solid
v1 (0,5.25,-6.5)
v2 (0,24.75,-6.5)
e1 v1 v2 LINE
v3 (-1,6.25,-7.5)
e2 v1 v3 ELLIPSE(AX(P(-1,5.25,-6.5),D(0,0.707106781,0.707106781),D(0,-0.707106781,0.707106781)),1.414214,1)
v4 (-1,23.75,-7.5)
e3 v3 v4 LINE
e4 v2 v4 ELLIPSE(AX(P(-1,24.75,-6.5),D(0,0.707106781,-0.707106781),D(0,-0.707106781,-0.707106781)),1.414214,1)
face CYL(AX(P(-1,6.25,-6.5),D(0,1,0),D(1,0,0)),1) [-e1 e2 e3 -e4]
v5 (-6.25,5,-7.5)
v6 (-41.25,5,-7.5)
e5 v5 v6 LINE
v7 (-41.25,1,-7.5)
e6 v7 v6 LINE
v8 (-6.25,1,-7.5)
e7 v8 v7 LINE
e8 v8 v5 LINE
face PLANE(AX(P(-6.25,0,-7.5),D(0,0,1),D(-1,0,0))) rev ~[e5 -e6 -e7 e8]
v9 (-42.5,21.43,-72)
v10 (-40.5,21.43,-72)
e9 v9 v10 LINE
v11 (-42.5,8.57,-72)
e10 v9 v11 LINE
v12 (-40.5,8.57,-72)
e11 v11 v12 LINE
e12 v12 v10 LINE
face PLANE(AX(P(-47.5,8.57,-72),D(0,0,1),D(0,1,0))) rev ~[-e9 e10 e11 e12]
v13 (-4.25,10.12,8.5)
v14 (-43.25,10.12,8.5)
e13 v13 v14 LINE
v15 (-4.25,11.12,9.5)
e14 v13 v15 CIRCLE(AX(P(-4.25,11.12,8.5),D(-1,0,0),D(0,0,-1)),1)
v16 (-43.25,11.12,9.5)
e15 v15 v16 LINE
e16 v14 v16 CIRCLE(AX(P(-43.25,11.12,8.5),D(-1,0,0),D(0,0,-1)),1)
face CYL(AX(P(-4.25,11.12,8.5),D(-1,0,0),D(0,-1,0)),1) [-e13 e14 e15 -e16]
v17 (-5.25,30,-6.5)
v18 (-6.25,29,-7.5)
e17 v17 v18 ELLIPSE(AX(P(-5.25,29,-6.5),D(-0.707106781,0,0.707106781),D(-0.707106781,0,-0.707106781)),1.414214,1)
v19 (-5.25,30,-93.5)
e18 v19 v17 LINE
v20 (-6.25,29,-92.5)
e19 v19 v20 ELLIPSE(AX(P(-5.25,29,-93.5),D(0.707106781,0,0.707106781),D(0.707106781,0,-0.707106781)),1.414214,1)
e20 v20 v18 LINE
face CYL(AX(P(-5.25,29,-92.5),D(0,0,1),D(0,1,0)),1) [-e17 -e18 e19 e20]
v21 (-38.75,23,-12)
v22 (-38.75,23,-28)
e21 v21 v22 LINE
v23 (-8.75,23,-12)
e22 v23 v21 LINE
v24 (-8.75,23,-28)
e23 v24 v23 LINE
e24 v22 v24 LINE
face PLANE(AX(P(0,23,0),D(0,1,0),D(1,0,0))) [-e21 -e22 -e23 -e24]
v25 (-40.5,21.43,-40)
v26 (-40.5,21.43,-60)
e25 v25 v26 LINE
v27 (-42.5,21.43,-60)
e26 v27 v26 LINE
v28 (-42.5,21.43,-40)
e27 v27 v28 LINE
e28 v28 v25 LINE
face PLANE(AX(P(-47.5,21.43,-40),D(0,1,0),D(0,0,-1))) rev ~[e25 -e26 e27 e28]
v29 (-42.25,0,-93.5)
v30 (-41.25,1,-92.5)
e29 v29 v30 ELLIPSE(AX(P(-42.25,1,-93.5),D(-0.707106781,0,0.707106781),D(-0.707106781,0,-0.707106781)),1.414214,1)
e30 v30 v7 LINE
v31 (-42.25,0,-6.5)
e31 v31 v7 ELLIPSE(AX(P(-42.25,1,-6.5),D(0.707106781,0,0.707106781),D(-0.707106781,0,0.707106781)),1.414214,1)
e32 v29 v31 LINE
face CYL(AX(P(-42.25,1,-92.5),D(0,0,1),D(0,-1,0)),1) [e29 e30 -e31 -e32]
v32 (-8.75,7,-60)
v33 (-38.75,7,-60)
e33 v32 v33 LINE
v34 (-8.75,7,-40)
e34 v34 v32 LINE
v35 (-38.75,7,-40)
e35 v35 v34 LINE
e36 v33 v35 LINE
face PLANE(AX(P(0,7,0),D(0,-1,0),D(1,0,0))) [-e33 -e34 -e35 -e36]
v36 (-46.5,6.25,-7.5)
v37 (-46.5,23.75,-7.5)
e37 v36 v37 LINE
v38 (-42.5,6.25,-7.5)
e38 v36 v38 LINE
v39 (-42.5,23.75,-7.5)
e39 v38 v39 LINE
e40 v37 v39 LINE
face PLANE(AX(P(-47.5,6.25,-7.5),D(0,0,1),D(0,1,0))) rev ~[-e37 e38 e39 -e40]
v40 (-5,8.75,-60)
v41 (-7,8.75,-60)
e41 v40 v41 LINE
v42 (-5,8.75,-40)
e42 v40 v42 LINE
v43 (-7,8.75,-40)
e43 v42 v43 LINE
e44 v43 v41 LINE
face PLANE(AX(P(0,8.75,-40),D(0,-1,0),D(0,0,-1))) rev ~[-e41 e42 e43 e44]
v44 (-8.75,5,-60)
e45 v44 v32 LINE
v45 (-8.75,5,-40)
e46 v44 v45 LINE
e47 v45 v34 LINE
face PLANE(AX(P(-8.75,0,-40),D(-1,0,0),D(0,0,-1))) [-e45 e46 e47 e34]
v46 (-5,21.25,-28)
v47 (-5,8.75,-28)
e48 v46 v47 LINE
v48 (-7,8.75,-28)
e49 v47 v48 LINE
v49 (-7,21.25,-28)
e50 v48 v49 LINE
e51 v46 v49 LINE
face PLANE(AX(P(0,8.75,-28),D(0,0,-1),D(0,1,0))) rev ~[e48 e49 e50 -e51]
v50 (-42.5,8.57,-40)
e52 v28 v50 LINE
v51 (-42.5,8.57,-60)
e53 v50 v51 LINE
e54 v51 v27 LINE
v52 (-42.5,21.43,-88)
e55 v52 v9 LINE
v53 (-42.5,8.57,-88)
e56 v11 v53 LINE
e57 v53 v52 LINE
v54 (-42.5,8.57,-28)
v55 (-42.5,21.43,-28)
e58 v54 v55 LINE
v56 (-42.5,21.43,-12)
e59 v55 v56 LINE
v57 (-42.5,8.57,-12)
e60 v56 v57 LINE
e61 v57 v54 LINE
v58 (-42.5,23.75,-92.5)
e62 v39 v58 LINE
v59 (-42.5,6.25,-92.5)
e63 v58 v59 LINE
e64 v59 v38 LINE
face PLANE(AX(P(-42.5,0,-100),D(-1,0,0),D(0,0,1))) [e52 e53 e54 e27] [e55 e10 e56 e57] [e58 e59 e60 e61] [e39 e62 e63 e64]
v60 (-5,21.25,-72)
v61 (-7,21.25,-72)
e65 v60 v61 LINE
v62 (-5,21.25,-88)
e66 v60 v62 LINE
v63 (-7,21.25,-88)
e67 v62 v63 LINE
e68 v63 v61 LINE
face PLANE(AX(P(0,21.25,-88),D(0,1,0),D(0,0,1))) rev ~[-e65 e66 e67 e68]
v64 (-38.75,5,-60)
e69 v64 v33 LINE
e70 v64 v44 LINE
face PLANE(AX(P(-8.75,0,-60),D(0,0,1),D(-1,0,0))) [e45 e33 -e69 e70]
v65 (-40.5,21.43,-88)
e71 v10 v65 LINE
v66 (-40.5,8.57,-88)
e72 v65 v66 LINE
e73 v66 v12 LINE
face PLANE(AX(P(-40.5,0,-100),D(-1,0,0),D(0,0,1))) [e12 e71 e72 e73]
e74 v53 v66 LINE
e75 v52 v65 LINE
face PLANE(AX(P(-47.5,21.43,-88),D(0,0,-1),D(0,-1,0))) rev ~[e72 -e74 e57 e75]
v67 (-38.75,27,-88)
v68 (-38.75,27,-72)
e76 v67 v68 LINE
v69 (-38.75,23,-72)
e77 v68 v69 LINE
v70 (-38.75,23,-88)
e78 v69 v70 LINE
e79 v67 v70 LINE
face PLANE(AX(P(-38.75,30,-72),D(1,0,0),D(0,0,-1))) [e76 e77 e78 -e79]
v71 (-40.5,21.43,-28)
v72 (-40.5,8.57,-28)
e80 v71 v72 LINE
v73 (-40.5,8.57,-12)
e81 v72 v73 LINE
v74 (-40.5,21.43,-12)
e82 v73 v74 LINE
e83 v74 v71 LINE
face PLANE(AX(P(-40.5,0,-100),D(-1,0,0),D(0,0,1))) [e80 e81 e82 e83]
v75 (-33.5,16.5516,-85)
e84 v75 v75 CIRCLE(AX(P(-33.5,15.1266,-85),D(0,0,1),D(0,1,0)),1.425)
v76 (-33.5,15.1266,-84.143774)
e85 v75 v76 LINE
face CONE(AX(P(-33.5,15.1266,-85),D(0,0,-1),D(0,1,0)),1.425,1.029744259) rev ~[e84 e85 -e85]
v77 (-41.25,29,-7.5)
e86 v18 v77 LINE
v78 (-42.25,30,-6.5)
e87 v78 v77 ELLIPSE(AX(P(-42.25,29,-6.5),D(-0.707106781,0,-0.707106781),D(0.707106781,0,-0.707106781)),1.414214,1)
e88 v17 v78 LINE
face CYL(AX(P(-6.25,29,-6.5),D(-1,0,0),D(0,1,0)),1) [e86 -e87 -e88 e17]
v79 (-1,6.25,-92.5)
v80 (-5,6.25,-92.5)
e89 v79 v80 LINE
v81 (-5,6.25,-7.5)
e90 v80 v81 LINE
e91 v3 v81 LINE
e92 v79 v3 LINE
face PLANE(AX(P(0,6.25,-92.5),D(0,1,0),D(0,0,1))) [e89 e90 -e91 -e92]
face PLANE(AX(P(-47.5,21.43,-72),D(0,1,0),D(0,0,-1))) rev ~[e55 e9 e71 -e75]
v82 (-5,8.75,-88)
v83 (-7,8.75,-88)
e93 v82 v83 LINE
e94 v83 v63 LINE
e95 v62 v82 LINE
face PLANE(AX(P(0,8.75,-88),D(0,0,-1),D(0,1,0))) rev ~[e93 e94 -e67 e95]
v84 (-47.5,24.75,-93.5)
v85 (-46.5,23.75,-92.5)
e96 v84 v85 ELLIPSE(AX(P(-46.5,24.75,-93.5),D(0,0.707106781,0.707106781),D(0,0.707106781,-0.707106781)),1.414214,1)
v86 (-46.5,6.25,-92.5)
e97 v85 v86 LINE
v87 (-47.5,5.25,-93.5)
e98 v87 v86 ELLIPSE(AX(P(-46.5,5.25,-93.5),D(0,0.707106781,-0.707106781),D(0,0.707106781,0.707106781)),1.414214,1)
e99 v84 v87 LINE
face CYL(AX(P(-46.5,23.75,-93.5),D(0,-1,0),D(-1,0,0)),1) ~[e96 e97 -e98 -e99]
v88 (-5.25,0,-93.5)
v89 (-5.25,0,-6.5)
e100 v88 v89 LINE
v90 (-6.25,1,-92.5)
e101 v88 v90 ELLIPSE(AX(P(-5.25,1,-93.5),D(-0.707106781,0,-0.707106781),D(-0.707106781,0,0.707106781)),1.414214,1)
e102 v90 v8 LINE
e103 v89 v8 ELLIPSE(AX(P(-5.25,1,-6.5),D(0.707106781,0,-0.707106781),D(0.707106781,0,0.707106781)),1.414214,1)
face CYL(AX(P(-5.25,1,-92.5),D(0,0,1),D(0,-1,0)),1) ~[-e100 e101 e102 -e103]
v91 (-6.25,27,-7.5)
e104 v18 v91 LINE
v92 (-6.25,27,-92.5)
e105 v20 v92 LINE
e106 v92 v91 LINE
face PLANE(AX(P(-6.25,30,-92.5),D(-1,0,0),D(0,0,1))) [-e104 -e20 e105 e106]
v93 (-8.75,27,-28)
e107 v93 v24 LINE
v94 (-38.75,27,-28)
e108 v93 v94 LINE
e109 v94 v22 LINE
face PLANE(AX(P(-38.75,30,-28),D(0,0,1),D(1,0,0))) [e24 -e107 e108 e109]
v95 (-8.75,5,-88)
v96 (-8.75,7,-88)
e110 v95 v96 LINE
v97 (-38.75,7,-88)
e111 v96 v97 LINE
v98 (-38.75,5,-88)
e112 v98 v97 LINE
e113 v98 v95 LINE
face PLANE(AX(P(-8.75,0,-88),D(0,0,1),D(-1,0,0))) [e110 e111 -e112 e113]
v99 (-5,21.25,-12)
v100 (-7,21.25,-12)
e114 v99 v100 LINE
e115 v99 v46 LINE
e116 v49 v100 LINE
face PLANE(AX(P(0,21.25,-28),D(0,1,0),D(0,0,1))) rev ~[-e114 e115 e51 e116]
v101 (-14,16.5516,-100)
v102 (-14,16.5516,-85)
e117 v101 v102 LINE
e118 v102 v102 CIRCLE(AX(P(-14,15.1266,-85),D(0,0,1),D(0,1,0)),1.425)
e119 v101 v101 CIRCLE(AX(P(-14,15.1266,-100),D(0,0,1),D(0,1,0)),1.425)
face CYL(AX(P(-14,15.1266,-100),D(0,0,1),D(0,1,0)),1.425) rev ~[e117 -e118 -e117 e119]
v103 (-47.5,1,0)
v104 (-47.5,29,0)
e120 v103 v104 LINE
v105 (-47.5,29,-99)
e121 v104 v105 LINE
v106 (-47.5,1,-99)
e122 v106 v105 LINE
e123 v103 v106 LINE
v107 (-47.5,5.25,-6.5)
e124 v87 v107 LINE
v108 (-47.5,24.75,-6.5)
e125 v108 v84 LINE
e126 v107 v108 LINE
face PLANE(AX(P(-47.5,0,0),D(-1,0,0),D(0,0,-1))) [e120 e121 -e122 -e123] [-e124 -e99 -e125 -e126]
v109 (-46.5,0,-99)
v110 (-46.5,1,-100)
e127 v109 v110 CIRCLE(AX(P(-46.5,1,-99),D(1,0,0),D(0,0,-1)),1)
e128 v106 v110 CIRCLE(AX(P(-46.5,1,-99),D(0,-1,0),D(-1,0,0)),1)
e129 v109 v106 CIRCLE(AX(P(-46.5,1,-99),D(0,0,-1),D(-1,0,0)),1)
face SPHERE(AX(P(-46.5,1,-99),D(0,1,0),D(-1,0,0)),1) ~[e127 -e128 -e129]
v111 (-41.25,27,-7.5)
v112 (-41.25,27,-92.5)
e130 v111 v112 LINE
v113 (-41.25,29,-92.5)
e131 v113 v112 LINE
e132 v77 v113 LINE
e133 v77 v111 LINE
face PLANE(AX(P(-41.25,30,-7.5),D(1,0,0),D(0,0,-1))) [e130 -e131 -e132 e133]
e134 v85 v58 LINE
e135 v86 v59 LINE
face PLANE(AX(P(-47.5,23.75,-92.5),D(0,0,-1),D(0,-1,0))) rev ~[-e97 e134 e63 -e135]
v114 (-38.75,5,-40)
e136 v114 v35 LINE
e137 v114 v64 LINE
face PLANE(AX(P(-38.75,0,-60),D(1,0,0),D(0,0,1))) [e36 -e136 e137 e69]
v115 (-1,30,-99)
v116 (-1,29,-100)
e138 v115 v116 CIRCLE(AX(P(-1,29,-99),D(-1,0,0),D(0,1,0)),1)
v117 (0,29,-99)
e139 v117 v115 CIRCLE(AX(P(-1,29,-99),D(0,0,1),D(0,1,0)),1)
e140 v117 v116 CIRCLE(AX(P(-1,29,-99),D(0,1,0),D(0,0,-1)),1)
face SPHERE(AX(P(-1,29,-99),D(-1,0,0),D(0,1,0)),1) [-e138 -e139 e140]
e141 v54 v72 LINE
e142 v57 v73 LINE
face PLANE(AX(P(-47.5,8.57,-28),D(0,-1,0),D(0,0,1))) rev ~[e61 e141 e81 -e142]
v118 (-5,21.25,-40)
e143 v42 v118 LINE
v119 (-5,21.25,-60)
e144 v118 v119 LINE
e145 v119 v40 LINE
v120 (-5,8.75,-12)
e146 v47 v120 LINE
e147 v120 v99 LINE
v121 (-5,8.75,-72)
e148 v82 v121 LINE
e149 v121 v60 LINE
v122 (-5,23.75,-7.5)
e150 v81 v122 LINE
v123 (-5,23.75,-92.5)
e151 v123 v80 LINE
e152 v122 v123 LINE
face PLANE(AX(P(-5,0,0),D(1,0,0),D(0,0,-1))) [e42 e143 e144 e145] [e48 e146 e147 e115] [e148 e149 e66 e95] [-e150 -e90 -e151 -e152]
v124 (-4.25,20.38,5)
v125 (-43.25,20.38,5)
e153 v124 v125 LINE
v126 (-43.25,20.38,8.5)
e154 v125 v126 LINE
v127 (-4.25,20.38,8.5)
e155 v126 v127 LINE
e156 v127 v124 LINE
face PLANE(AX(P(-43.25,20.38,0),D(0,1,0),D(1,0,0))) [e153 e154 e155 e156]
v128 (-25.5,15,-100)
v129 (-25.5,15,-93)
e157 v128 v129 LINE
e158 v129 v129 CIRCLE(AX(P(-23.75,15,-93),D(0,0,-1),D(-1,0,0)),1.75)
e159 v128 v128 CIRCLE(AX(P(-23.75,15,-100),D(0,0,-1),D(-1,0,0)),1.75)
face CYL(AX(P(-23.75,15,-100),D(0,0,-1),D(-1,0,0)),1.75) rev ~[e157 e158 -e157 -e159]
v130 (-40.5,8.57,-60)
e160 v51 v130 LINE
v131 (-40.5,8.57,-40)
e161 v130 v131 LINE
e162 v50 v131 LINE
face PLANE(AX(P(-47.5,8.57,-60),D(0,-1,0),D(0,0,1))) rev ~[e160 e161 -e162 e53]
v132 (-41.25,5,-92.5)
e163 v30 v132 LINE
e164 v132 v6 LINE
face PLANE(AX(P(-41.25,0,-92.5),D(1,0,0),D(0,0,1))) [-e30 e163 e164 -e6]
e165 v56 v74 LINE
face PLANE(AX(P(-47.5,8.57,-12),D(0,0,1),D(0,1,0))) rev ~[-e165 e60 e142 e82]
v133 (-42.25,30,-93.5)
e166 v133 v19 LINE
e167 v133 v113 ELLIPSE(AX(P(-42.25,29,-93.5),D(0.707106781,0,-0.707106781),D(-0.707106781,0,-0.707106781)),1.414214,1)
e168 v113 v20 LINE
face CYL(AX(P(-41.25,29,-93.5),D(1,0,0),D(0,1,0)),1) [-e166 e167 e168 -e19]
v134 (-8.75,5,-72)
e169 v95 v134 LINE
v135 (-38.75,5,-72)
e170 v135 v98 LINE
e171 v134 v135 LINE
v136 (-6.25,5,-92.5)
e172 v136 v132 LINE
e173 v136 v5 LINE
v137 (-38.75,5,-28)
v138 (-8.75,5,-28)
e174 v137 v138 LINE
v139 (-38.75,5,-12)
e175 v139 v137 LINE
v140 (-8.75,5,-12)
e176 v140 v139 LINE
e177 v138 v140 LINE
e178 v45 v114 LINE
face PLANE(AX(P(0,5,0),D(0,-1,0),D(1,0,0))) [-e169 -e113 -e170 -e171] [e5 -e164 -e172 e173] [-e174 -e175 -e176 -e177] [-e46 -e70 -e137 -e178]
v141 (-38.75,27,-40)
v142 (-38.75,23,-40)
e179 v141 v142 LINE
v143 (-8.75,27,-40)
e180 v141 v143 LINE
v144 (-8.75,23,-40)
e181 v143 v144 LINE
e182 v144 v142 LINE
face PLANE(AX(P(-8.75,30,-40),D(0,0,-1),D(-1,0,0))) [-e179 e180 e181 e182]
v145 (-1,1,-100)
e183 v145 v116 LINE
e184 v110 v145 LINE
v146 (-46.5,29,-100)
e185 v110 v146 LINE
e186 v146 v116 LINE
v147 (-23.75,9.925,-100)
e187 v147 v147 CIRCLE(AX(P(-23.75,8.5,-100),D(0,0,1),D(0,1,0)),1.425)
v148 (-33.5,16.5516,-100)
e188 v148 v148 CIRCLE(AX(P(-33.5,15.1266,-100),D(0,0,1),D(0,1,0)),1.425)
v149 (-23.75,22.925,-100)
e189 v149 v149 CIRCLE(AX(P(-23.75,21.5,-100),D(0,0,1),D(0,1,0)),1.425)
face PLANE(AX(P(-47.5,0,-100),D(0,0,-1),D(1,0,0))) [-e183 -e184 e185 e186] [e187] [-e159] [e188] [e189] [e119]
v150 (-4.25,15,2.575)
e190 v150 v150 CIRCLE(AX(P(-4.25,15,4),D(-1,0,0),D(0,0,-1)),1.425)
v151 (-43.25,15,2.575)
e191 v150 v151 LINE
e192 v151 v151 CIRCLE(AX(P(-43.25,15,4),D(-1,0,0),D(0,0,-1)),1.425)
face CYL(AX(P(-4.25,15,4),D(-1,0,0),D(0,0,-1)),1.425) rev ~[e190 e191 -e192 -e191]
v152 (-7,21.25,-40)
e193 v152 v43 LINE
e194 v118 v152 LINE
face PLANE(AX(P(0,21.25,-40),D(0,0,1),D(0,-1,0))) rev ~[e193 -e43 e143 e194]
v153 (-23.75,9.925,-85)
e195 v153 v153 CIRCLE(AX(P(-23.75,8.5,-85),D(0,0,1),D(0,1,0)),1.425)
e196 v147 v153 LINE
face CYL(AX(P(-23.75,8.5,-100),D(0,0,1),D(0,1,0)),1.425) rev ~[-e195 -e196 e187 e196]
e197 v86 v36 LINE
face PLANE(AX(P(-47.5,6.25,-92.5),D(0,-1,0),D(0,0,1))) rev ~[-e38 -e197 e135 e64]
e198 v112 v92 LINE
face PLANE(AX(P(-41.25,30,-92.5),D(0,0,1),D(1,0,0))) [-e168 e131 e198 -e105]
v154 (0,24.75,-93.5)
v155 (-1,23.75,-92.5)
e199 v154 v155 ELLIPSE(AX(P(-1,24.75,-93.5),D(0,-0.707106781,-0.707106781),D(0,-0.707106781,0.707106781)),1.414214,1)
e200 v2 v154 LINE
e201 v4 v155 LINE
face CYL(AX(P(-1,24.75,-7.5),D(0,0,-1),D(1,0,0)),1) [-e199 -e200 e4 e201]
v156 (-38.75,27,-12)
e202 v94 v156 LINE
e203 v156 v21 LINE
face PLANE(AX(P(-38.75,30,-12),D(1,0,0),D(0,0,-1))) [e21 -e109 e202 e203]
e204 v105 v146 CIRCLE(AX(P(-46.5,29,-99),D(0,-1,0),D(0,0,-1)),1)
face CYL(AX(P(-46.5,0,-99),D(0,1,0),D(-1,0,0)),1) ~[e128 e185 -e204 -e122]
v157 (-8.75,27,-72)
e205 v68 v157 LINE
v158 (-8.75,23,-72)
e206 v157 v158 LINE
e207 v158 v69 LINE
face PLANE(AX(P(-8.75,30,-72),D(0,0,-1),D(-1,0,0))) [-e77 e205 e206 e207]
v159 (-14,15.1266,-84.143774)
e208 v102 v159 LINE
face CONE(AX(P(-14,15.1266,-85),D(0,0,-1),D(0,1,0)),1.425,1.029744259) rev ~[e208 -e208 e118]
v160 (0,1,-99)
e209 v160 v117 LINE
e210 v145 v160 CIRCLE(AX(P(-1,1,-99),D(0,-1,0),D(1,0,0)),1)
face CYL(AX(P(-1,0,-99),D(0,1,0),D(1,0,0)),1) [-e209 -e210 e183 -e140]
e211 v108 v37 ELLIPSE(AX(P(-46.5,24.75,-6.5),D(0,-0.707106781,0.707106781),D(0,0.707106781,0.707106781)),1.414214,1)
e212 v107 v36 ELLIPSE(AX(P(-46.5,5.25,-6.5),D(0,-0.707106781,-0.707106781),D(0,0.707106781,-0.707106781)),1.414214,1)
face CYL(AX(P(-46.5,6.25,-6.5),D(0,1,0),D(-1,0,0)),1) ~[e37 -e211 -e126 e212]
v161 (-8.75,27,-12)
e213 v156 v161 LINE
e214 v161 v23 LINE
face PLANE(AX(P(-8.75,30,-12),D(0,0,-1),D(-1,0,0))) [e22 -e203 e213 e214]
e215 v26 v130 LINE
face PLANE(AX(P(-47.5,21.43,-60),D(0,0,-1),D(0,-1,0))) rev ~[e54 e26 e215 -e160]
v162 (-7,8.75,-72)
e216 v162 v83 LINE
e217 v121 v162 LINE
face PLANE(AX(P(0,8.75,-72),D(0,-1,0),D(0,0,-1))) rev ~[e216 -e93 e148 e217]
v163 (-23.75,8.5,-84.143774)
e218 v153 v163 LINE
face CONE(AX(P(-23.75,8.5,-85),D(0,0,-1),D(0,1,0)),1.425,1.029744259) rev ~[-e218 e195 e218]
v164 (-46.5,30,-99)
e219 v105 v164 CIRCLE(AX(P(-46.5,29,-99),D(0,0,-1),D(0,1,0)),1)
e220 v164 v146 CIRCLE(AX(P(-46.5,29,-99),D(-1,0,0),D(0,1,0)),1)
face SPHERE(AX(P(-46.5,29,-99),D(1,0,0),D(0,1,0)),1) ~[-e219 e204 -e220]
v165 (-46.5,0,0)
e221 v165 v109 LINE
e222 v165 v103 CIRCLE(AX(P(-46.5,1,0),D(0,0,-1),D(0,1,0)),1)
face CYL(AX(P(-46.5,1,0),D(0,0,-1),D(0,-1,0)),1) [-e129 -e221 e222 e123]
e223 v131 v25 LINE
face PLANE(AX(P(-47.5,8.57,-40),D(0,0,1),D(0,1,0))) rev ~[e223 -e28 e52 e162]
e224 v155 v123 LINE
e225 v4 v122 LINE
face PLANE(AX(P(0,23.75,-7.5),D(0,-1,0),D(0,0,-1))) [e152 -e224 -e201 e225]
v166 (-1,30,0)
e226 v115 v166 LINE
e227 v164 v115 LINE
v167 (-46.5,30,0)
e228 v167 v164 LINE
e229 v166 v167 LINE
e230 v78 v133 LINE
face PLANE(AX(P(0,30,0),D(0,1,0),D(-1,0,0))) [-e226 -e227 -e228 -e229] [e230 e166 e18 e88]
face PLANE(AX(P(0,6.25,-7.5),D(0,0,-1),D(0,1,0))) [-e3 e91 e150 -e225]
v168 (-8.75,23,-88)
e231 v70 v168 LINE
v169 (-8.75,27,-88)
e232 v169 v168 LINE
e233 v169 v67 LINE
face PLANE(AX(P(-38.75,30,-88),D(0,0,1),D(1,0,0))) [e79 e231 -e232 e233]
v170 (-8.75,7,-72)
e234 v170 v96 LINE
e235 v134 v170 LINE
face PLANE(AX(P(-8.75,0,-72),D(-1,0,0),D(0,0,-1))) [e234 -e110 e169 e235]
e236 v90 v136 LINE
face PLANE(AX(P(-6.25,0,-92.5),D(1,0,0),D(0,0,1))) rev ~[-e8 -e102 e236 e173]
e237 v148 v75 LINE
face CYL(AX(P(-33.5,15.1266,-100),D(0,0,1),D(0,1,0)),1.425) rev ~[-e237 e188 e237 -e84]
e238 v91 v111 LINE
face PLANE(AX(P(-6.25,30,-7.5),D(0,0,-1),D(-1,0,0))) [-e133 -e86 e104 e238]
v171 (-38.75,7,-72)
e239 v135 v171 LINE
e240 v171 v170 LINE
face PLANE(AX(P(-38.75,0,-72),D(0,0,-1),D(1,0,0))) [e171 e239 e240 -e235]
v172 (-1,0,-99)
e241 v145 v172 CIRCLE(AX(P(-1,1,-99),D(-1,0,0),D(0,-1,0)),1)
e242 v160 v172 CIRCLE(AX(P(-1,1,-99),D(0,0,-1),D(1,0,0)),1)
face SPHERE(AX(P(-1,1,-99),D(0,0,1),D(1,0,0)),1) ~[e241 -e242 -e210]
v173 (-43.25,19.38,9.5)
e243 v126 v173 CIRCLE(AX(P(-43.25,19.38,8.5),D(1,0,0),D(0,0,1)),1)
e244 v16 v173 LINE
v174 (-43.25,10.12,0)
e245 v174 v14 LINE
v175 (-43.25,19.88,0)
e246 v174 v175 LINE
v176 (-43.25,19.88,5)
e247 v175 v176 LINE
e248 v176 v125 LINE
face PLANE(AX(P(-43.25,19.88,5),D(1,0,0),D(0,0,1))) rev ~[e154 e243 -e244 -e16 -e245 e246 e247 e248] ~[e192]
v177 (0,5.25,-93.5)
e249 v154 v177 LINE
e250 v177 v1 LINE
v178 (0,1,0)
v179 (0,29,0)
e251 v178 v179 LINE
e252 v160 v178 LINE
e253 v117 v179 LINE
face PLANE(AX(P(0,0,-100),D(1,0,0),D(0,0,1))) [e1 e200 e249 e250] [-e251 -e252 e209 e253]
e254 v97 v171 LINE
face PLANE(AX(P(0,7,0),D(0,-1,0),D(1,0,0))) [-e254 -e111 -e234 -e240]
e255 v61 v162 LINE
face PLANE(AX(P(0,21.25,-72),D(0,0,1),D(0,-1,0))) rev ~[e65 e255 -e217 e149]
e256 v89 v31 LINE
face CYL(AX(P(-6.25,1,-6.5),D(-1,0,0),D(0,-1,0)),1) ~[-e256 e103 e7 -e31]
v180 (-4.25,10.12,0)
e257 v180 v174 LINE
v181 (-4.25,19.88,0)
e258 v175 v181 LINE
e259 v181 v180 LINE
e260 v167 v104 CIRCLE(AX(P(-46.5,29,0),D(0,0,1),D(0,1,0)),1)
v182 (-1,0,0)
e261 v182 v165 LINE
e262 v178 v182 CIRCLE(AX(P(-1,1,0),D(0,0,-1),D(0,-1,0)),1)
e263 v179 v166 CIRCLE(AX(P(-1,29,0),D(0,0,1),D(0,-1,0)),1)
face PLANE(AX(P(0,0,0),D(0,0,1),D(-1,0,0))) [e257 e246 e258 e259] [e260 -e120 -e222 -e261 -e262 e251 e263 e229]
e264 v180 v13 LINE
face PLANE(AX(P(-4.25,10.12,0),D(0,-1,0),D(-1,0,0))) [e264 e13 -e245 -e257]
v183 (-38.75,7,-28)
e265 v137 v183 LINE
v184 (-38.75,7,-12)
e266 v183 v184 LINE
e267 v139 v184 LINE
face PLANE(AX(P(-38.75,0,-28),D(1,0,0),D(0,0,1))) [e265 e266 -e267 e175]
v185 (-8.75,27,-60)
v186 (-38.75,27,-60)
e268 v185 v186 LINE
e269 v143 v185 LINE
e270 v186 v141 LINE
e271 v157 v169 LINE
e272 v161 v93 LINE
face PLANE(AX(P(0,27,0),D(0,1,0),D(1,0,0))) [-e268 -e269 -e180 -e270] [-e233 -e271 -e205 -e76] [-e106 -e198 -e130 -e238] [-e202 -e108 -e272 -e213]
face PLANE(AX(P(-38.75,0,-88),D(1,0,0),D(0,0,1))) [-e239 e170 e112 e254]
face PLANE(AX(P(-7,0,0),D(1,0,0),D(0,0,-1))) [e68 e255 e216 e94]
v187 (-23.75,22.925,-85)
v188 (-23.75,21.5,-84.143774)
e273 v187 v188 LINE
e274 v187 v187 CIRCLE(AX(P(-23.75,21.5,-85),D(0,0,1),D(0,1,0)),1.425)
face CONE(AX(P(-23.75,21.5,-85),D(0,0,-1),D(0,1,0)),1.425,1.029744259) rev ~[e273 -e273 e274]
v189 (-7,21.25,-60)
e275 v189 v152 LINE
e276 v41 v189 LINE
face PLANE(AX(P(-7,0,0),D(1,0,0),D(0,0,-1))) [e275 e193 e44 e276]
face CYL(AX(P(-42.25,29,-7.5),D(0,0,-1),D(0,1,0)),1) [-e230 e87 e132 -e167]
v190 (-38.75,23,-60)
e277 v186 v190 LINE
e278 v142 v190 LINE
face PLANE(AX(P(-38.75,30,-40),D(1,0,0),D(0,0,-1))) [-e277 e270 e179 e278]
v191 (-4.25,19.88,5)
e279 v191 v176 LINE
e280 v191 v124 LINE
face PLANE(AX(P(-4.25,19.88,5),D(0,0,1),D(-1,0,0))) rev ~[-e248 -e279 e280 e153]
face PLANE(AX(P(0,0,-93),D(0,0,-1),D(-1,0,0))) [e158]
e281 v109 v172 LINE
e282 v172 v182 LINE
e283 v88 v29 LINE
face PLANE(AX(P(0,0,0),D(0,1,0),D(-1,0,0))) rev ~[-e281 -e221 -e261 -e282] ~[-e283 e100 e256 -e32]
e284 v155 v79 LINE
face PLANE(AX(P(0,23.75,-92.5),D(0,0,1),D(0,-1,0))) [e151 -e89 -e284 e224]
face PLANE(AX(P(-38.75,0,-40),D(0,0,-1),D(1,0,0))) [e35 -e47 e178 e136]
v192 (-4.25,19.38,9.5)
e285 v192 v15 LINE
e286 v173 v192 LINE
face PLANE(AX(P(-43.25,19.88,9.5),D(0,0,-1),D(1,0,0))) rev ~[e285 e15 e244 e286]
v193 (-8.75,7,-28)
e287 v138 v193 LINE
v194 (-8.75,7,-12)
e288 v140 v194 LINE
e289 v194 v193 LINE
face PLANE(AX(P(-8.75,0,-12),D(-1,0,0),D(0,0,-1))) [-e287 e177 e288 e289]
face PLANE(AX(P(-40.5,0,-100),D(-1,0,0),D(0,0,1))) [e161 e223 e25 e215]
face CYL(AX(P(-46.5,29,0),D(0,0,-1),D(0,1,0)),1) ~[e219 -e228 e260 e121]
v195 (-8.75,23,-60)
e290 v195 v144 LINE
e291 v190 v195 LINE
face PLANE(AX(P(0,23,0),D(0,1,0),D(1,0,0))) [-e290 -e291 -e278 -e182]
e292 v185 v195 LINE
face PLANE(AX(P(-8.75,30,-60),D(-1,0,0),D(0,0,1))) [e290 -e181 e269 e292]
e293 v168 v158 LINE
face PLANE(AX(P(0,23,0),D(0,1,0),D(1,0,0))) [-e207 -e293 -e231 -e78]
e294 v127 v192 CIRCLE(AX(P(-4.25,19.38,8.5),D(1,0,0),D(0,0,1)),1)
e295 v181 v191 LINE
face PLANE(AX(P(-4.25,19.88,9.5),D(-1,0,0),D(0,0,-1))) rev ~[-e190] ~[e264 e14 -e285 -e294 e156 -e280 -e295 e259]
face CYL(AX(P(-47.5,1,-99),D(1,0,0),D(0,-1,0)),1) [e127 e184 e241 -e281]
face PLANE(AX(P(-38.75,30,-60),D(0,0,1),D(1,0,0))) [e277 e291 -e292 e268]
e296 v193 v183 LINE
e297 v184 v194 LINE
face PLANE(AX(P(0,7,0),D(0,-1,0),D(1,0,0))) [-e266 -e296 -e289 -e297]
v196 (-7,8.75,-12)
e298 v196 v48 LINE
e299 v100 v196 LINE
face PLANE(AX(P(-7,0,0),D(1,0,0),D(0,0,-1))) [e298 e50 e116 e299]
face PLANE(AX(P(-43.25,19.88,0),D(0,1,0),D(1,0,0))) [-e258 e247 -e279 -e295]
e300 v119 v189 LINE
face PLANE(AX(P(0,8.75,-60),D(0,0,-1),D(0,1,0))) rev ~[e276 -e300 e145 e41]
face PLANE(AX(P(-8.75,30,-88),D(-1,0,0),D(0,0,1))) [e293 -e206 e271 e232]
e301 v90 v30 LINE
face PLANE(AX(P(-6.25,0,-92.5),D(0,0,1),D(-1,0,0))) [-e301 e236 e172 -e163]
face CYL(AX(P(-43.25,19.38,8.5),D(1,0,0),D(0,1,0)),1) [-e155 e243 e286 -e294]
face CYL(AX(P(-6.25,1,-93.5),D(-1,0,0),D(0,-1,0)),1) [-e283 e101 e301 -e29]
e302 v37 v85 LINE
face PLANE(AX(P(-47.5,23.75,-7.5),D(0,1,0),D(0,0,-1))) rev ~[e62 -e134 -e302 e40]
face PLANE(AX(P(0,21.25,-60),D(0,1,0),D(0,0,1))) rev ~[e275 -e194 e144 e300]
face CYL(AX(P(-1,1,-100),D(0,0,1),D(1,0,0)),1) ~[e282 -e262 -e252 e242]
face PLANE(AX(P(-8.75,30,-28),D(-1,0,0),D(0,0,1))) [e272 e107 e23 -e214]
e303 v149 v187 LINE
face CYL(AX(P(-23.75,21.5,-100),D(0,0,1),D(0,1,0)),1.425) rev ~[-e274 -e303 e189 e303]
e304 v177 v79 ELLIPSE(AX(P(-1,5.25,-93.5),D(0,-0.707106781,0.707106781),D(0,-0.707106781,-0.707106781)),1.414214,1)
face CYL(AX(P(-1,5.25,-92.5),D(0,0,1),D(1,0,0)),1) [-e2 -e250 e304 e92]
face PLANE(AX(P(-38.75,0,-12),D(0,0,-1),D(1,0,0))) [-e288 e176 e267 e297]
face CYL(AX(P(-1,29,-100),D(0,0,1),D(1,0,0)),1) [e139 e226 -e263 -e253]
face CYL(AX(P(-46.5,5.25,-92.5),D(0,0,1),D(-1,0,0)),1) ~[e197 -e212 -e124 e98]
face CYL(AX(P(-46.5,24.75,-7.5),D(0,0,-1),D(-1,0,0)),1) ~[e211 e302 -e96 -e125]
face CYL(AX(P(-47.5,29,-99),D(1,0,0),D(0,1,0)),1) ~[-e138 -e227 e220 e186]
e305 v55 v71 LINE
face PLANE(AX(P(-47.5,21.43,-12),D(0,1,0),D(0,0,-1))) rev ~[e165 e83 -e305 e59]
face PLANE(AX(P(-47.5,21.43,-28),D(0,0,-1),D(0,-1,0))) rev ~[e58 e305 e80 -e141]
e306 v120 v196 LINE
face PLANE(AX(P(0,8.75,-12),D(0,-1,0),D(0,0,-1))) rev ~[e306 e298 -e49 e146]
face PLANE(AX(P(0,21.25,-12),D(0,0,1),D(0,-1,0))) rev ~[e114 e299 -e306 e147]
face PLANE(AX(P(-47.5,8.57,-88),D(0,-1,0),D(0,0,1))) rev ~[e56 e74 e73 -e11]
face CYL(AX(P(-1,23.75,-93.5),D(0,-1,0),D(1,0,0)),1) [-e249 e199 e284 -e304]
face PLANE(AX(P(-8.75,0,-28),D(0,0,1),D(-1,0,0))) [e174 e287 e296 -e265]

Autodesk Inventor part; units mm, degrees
ref_plane "YZ Plane" through (0, 0, 0) normal (1, 0, 0) x (0, 1, 0)
ref_plane "XZ Plane" through (0, 0, 0) normal (0, 1, 0) x (-1, 0, 0)
ref_plane "XY Plane" through (0, 0, 0) normal (0, 0, 1) x (1, 0, 0)
sketch "スケッチ1" plane through (0, 0, 0) normal (0, 1, 0) x (-1, 0, 0)
  line L0 (0, 0) -> (47.5, 0)
  line L1 (47.5, 0) -> (47.5, -100)
  line L2 (47.5, -100) -> (0, -100)
  line L3 (0, -100) -> (0, 0)
  dimension "d0" = 47.5
  dimension "d1" = 100
extrude "押し出し1" add sketch "スケッチ1" along normal blind 30
ref_plane "作業平面1" through (-47.5, 0, 0) normal (0, 0, 1) x (1, 0, 0)
sketch "スケッチ2" plane through (-47.5, 0, 0) normal (0, 0, 1) x (1, 0, 0)
  line L0 (4.25, 19.88) -> (43.25, 19.88)
  line L1 (43.25, 19.88) -> (43.25, 10.12)
  line L2 (43.25, 10.12) -> (4.25, 10.12)
  line L3 (4.25, 10.12) -> (4.25, 19.88)
  line L4 (47.5, 0) -> (0, 0) projected
  line L5 (0, 0) -> (47.5, 0) projected
  line L6 (0, 0) -> (0, 30) projected
  line L7 (0, 0) -> (0, 30) projected
  point P0 (23.75, 10.12)
  point P1 (23.75, 0)
  point P2 (23.75, 0)
  point P3 (4.25, 15)
  point P4 (0, 15)
  point P5 (0, 15)
  dimension "d5" = 39
  dimension "d6" = 9.76
  dimension "d7" = 0
  dimension "d8" = 0
extrude "押し出し2" add sketch "スケッチ2" along normal blind 9.5
ref_plane "作業平面2" through (-4.25, 10.12, 0) normal (1, 0, 0) x (0, 0, -1)
sketch "スケッチ3" plane through (-4.25, 10.12, 0) normal (1, 0, 0) x (0, 0, -1)
  line L0 (-9.5, 0) -> (-9.5, 9.76) projected
  line L1 (0, -10.12) -> (0, 19.88) projected
  point P0 (-9.5, 4.88)
  point P1 (-4, 4.88)
  point P2 (0, 4.88)
  dimension "d12" = 4
hole "穴1" at (-4.25, 15, 4) direction (-1, 0, 0) diameter 2.85 end through all
ref_plane "作業平面3" through (-43.25, 19.88, 0) normal (0, 1, 0) x (1, 0, 0)
sketch "スケッチ4" plane through (-43.25, 19.88, 0) normal (0, 1, 0) x (1, 0, 0)
  line L0 (0, 0) -> (0, -9.5) projected
  line L1 (0, -9.5) -> (39, -9.5)
  line L2 (39, -9.5) -> (39, -5)
  line L3 (39, -5) -> (0, -5)
  line L4 (0, -5) -> (0, -9.5)
  point P0 (43.25, 0)
  dimension "d21" = 4.5
extrude "押し出し3" add sketch "スケッチ4" along normal blind 0.5
ref_plane "作業平面4" through (0, 30, 0) normal (0, 1, 0) x (1, 0, 0)
sketch "スケッチ6" plane through (0, 30, 0) normal (0, 1, 0) x (1, 0, 0)
  line L0 (-38.75, 28) -> (-8.75, 28)
  line L1 (-8.75, 28) -> (-8.75, 12)
  line L2 (-8.75, 12) -> (-38.75, 12)
  line L3 (-38.75, 12) -> (-38.75, 28)
  line L4 (-4.25, 0) -> (-43.25, 0) projected
  line L5 (9.5, 0) -> (-57, 0) projected
  line L6 (-38.75, 60) -> (-8.75, 60)
  line L7 (-8.75, 60) -> (-8.75, 40)
  line L8 (-8.75, 40) -> (-38.75, 40)
  line L9 (-38.75, 40) -> (-38.75, 60)
  line L10 (-38.75, 88) -> (-8.75, 88)
  line L11 (-8.75, 88) -> (-8.75, 72)
  line L12 (-8.75, 72) -> (-38.75, 72)
  line L13 (-38.75, 72) -> (-38.75, 88)
  line L14 (0, 100) -> (-47.5, 100) projected
  point P0 (0, 0)
  point P1 (-23.75, 12)
  point P2 (-23.75, 0)
  point P3 (-23.75, 40)
  point P4 (-23.75, 72)
  point P5 (-23.75, 60)
  point P6 (-23.75, 28)
  dimension "d37" = 30
  dimension "d38" = 16
  dimension "d39" = 0
  dimension "d40" = 12
  dimension "d41" = 30
  dimension "d42" = 20
  dimension "d43" = 30
  dimension "d44" = 16
  dimension "d45" = 12
  dimension "d46" = 12
  dimension "d47" = 12
  dimension "d48" = 0
  dimension "d49" = 0
extrude "押し出し5" cut sketch "スケッチ6" against normal blind 7
ref_plane "作業平面5" through (0, 0, 0) normal (0, -1, 0) x (1, 0, 0)
sketch "スケッチ7" plane through (0, 0, 0) normal (0, -1, 0) x (1, 0, 0)
  line L0 (-38.75, -72) -> (-8.75, -72)
  line L1 (-8.75, -72) -> (-8.75, -88)
  line L2 (-8.75, -88) -> (-38.75, -88)
  line L3 (-38.75, -88) -> (-38.75, -72)
  line L4 (-38.75, -40) -> (-8.75, -40)
  line L5 (-8.75, -40) -> (-8.75, -60)
  line L6 (-8.75, -60) -> (-38.75, -60)
  line L7 (-38.75, -60) -> (-38.75, -40)
  line L8 (-38.75, -12) -> (-8.75, -12)
  line L9 (-8.75, -12) -> (-8.75, -28)
  line L10 (-8.75, -28) -> (-38.75, -28)
  line L11 (-38.75, -28) -> (-38.75, -12)
  line L12 (-47.5, 0) -> (0, 0) projected
  point P0 (-23.75, -88)
  point P1 (-23.75, -60)
  point P2 (-23.75, -28)
  point P3 (-23.75, -40)
  point P4 (-23.75, -72)
  point P5 (-23.75, 0)
  point P6 (-23.75, -12)
  dimension "d53" = 30
  dimension "d54" = 16
  dimension "d55" = 30
  dimension "d56" = 20
  dimension "d57" = 30
  dimension "d58" = 16
  dimension "d59" = 12
  dimension "d60" = 12
  dimension "d61" = 0
  dimension "d62" = 0
  dimension "d63" = 0
  dimension "d64" = 12
extrude "押し出し6" cut sketch "スケッチ7" against normal blind 7
sketch "スケッチ8" plane through (0, 30, 0) normal (0, 1, 0) x (1, 0, 0)
  line L0 (-41.25, 92.5) -> (-6.25, 92.5)
  line L1 (-6.25, 92.5) -> (-6.25, 7.5)
  line L2 (-6.25, 7.5) -> (-41.25, 7.5)
  line L3 (-41.25, 7.5) -> (-41.25, 92.5)
  line L4 (0, 100) -> (-47.5, 100) projected
  line L5 (-47.5, 100) -> (-47.5, 0) projected
  line L6 (0, 0) -> (0, 100) projected
  point P0 (-23.75, 92.5)
  point P1 (-23.75, 100)
  point P2 (-41.25, 50)
  point P3 (-47.5, 50)
  dimension "d67" = 35
  dimension "d68" = 85
  dimension "d69" = 0
  dimension "d70" = 0
  dimension "d120" = 7.5
  dimension "d121" = 6.25
extrude "押し出し7" cut sketch "スケッチ8" against normal blind 3
sketch "スケッチ9" plane through (0, 0, 0) normal (0, -1, 0) x (1, 0, 0)
  line L0 (-6.25, -7.5) -> (-41.25, -7.5) projected
  line L1 (-6.25, -92.5) -> (-6.25, -7.5) projected
  line L2 (-41.25, -7.5) -> (-6.25, -7.5)
  line L3 (-6.25, -7.5) -> (-6.25, -92.5)
  line L4 (-6.25, -92.5) -> (-41.25, -92.5)
  line L5 (-41.25, -92.5) -> (-41.25, -7.5)
  point P0 (0, 0)
extrude "押し出し8" cut sketch "スケッチ9" against normal blind 5
sketch "スケッチ10" plane through (0, 0, 0) normal (1, 0, 0) x (0, 0, -1)
  line L0 (0, 0) -> (100, 0) projected
  line L1 (0, 30) -> (100, 30) projected
  line L2 (100, 0) -> (100, 30) projected
  line L3 (0, 0) -> (0, 30) projected
  line L4 (88, 21.25) -> (72, 21.25)
  line L5 (72, 21.25) -> (72, 8.75)
  line L6 (72, 8.75) -> (88, 8.75)
  line L7 (88, 8.75) -> (88, 21.25)
  line L8 (60, 21.25) -> (40, 21.25)
  line L9 (40, 21.25) -> (40, 8.75)
  line L10 (40, 8.75) -> (60, 8.75)
  line L11 (60, 8.75) -> (60, 21.25)
  line L12 (28, 21.25) -> (12, 21.25)
  line L13 (12, 21.25) -> (12, 8.75)
  line L14 (12, 8.75) -> (28, 8.75)
  line L15 (28, 8.75) -> (28, 21.25)
  point P0 (100, 15)
  point P1 (12, 15)
  point P2 (80, 21.25)
  point P3 (50, 30)
  dimension "d82" = 16
  dimension "d83" = 20
  dimension "d84" = 16
  dimension "d85" = 12
  dimension "d86" = 12
  dimension "d87" = 12
  dimension "d88" = 12
  dimension "d90" = 8.75
  dimension "d91" = 8.75
  dimension "d92" = 8.75
  dimension "d93" = 8.75
  dimension "d94" = 8.75
  dimension "d95" = 8.75
extrude "押し出し9" cut sketch "スケッチ10" against normal blind 7 contours L7 L6 L5 L4 | L11 L10 L9 L8 | L15 L14 L13 L12
ref_plane "作業平面6" through (-47.5, 0, -100) normal (-1, 0, 0) x (0, 0, 1)
sketch "スケッチ12" plane through (-47.5, 0, -100) normal (-1, 0, 0) x (0, 0, 1)
  line L0 (88, 21.43) -> (72, 21.43)
  line L1 (72, 21.43) -> (72, 8.57)
  line L2 (72, 8.57) -> (88, 8.57)
  line L3 (88, 8.57) -> (88, 21.43)
  line L4 (60, 21.43) -> (40, 21.43)
  line L5 (40, 21.43) -> (40, 8.57)
  line L6 (40, 8.57) -> (60, 8.57)
  line L7 (60, 8.57) -> (60, 21.43)
  line L8 (28, 21.43) -> (12, 21.43)
  line L9 (12, 21.43) -> (12, 8.57)
  line L10 (12, 8.57) -> (28, 8.57)
  line L11 (28, 8.57) -> (28, 21.43)
  line L12 (0, 0) -> (0, 30) projected
  line L13 (-21.9, 30) -> (131.4, 30) projected
  line L14 (131.4, 0) -> (-21.9, 0) projected
  point P0 (100, 0)
  point P1 (12, 15)
  point P2 (80, 21.43)
  point P3 (0, 15)
  point P4 (0, 15)
  point P5 (40, 15)
  point P6 (72, 15)
  dimension "d101" = 16
  dimension "d102" = 20
  dimension "d103" = 16
  dimension "d104" = 12
  dimension "d105" = 12
  dimension "d106" = 0
  dimension "d107" = 0
  dimension "d108" = 0
  dimension "d109" = 12
  dimension "d111" = 8.57
  dimension "d112" = 8.57
  dimension "d113" = 8.57
  dimension "d114" = 8.57
extrude "押し出し11" cut sketch "スケッチ12" against normal blind 7
sketch "スケッチ14" plane through (-47.5, 0, -100) normal (-1, 0, 0) x (0, 0, 1)
  line L0 (7.5, 6.25) -> (92.5, 6.25)
  line L1 (92.5, 6.25) -> (92.5, 23.75)
  line L2 (92.5, 23.75) -> (7.5, 23.75)
  line L3 (7.5, 23.75) -> (7.5, 6.25)
  line L4 (0, 0) -> (0, 30) projected
  line L5 (100, 36) -> (100, -6) projected
  line L6 (-21.9, 30) -> (131.4, 30) projected
  line L7 (131.4, 0) -> (-21.9, 0) projected
  point P0 (100, 0)
  dimension "d127" = 7.5
  dimension "d128" = 7.5
  dimension "d129" = 6.25
  dimension "d130" = 6.25
extrude "押し出し13" cut sketch "スケッチ14" against normal blind 5 contours L3 L2 L1 L0
sketch "スケッチ15" plane through (0, 0, 0) normal (1, 0, 0) x (0, 0, -1)
  line L0 (7.5, 23.75) -> (92.5, 23.75)
  line L1 (92.5, 23.75) -> (92.5, 6.25)
  line L2 (92.5, 6.25) -> (7.5, 6.25)
  line L3 (7.5, 6.25) -> (7.5, 23.75)
  line L4 (0, 0) -> (0, 30) projected
  line L5 (100, 0) -> (100, 30) projected
  line L6 (0, 30) -> (100, 30) projected
  line L7 (0, 0) -> (100, 0) projected
  dimension "d133" = 7.5
  dimension "d134" = 7.5
  dimension "d135" = 6.25
  dimension "d136" = 6.25
extrude "押し出し14" cut sketch "スケッチ15" against normal blind 5 contours L0 L1 L2 L3
sketch "スケッチ16" plane through (0, 0, -100) normal (0, 0, -1) x (-1, 0, 0)
  line L0 (41.25, 0) -> (6.25, 0) projected
  line L1 (47.5, 0) -> (47.5, 30) projected
  circle A0 centre (23.75, 15) radius 1.75
  line L2 (0, 0) -> (47.5, 0) projected
  point P0 (23.75, 0)
  point P1 (47.5, 15)
  point P2 (23.75, 0)
  dimension "d139" = 3.5
  dimension "d153" = 0
  dimension "d154" = 0
extrude "押し出し15" cut sketch "スケッチ16" against normal blind 7
sketch "スケッチ17" plane through (0, 0, -100) normal (0, 0, -1) x (-1, 0, 0)
  line L0 (-9.5, 30) -> (57, 30) projected
  line L1 (0, 0) -> (47.5, 0) projected
  line L2 (0, 0) -> (0, 30) projected
  line L3 (47.5, 36) -> (47.5, -6) projected
  point P0 (23.75, 21.5)
  point P1 (23.75, 8.5)
  point P2 (14, 15.1266)
  point P3 (33.5, 15.1266)
  point P4 (0, 15)
  dimension "d142" = 8.5
  dimension "d143" = 8.5
  dimension "d144" = 14
  dimension "d145" = 14
  dimension "d155" = 19.5
hole "穴2" at (-23.75, 21.5, -100) at (-23.75, 8.5, -100) at (-14, 15.1266, -100) at (-33.5, 15.1266, -100) direction (0, 0, 1) diameter 2.85 depth 15 tip angle 118
fillet "フィレット1" radius 1 1 edges at (-23.75, 30, -100)
fillet "フィレット1" radius 1 23 edges at (0, 30, -50) (-47.5, 30, -50) (0, 15, -92.5) (0, 6.25, -50) (0, 23.75, -50) (0, 15, -7.5) (-41.25, 30, -50) (-23.75, 30, -92.5) (-23.75, 30, -7.5) (-6.25, 30, -50) (0, 0, -50) (0, 15, -100) (-47.5, 15, -100) (-47.5, 0, -50) (-6.25, 0, -50) (-23.75, 0, -92.5) (-41.25, 0, -50) (-23.75, 0, -7.5) (-23.75, 0, -100) (-47.5, 15, -7.5) (-47.5, 6.25, -50) (-47.5, 23.75, -50) (-47.5, 15, -92.5)
fillet "フィレット2" radius 1 2 edges at (-23.75, 10.12, 9.5) (-23.75, 20.38, 9.5)
properties part number "Part7_3D プリント"
